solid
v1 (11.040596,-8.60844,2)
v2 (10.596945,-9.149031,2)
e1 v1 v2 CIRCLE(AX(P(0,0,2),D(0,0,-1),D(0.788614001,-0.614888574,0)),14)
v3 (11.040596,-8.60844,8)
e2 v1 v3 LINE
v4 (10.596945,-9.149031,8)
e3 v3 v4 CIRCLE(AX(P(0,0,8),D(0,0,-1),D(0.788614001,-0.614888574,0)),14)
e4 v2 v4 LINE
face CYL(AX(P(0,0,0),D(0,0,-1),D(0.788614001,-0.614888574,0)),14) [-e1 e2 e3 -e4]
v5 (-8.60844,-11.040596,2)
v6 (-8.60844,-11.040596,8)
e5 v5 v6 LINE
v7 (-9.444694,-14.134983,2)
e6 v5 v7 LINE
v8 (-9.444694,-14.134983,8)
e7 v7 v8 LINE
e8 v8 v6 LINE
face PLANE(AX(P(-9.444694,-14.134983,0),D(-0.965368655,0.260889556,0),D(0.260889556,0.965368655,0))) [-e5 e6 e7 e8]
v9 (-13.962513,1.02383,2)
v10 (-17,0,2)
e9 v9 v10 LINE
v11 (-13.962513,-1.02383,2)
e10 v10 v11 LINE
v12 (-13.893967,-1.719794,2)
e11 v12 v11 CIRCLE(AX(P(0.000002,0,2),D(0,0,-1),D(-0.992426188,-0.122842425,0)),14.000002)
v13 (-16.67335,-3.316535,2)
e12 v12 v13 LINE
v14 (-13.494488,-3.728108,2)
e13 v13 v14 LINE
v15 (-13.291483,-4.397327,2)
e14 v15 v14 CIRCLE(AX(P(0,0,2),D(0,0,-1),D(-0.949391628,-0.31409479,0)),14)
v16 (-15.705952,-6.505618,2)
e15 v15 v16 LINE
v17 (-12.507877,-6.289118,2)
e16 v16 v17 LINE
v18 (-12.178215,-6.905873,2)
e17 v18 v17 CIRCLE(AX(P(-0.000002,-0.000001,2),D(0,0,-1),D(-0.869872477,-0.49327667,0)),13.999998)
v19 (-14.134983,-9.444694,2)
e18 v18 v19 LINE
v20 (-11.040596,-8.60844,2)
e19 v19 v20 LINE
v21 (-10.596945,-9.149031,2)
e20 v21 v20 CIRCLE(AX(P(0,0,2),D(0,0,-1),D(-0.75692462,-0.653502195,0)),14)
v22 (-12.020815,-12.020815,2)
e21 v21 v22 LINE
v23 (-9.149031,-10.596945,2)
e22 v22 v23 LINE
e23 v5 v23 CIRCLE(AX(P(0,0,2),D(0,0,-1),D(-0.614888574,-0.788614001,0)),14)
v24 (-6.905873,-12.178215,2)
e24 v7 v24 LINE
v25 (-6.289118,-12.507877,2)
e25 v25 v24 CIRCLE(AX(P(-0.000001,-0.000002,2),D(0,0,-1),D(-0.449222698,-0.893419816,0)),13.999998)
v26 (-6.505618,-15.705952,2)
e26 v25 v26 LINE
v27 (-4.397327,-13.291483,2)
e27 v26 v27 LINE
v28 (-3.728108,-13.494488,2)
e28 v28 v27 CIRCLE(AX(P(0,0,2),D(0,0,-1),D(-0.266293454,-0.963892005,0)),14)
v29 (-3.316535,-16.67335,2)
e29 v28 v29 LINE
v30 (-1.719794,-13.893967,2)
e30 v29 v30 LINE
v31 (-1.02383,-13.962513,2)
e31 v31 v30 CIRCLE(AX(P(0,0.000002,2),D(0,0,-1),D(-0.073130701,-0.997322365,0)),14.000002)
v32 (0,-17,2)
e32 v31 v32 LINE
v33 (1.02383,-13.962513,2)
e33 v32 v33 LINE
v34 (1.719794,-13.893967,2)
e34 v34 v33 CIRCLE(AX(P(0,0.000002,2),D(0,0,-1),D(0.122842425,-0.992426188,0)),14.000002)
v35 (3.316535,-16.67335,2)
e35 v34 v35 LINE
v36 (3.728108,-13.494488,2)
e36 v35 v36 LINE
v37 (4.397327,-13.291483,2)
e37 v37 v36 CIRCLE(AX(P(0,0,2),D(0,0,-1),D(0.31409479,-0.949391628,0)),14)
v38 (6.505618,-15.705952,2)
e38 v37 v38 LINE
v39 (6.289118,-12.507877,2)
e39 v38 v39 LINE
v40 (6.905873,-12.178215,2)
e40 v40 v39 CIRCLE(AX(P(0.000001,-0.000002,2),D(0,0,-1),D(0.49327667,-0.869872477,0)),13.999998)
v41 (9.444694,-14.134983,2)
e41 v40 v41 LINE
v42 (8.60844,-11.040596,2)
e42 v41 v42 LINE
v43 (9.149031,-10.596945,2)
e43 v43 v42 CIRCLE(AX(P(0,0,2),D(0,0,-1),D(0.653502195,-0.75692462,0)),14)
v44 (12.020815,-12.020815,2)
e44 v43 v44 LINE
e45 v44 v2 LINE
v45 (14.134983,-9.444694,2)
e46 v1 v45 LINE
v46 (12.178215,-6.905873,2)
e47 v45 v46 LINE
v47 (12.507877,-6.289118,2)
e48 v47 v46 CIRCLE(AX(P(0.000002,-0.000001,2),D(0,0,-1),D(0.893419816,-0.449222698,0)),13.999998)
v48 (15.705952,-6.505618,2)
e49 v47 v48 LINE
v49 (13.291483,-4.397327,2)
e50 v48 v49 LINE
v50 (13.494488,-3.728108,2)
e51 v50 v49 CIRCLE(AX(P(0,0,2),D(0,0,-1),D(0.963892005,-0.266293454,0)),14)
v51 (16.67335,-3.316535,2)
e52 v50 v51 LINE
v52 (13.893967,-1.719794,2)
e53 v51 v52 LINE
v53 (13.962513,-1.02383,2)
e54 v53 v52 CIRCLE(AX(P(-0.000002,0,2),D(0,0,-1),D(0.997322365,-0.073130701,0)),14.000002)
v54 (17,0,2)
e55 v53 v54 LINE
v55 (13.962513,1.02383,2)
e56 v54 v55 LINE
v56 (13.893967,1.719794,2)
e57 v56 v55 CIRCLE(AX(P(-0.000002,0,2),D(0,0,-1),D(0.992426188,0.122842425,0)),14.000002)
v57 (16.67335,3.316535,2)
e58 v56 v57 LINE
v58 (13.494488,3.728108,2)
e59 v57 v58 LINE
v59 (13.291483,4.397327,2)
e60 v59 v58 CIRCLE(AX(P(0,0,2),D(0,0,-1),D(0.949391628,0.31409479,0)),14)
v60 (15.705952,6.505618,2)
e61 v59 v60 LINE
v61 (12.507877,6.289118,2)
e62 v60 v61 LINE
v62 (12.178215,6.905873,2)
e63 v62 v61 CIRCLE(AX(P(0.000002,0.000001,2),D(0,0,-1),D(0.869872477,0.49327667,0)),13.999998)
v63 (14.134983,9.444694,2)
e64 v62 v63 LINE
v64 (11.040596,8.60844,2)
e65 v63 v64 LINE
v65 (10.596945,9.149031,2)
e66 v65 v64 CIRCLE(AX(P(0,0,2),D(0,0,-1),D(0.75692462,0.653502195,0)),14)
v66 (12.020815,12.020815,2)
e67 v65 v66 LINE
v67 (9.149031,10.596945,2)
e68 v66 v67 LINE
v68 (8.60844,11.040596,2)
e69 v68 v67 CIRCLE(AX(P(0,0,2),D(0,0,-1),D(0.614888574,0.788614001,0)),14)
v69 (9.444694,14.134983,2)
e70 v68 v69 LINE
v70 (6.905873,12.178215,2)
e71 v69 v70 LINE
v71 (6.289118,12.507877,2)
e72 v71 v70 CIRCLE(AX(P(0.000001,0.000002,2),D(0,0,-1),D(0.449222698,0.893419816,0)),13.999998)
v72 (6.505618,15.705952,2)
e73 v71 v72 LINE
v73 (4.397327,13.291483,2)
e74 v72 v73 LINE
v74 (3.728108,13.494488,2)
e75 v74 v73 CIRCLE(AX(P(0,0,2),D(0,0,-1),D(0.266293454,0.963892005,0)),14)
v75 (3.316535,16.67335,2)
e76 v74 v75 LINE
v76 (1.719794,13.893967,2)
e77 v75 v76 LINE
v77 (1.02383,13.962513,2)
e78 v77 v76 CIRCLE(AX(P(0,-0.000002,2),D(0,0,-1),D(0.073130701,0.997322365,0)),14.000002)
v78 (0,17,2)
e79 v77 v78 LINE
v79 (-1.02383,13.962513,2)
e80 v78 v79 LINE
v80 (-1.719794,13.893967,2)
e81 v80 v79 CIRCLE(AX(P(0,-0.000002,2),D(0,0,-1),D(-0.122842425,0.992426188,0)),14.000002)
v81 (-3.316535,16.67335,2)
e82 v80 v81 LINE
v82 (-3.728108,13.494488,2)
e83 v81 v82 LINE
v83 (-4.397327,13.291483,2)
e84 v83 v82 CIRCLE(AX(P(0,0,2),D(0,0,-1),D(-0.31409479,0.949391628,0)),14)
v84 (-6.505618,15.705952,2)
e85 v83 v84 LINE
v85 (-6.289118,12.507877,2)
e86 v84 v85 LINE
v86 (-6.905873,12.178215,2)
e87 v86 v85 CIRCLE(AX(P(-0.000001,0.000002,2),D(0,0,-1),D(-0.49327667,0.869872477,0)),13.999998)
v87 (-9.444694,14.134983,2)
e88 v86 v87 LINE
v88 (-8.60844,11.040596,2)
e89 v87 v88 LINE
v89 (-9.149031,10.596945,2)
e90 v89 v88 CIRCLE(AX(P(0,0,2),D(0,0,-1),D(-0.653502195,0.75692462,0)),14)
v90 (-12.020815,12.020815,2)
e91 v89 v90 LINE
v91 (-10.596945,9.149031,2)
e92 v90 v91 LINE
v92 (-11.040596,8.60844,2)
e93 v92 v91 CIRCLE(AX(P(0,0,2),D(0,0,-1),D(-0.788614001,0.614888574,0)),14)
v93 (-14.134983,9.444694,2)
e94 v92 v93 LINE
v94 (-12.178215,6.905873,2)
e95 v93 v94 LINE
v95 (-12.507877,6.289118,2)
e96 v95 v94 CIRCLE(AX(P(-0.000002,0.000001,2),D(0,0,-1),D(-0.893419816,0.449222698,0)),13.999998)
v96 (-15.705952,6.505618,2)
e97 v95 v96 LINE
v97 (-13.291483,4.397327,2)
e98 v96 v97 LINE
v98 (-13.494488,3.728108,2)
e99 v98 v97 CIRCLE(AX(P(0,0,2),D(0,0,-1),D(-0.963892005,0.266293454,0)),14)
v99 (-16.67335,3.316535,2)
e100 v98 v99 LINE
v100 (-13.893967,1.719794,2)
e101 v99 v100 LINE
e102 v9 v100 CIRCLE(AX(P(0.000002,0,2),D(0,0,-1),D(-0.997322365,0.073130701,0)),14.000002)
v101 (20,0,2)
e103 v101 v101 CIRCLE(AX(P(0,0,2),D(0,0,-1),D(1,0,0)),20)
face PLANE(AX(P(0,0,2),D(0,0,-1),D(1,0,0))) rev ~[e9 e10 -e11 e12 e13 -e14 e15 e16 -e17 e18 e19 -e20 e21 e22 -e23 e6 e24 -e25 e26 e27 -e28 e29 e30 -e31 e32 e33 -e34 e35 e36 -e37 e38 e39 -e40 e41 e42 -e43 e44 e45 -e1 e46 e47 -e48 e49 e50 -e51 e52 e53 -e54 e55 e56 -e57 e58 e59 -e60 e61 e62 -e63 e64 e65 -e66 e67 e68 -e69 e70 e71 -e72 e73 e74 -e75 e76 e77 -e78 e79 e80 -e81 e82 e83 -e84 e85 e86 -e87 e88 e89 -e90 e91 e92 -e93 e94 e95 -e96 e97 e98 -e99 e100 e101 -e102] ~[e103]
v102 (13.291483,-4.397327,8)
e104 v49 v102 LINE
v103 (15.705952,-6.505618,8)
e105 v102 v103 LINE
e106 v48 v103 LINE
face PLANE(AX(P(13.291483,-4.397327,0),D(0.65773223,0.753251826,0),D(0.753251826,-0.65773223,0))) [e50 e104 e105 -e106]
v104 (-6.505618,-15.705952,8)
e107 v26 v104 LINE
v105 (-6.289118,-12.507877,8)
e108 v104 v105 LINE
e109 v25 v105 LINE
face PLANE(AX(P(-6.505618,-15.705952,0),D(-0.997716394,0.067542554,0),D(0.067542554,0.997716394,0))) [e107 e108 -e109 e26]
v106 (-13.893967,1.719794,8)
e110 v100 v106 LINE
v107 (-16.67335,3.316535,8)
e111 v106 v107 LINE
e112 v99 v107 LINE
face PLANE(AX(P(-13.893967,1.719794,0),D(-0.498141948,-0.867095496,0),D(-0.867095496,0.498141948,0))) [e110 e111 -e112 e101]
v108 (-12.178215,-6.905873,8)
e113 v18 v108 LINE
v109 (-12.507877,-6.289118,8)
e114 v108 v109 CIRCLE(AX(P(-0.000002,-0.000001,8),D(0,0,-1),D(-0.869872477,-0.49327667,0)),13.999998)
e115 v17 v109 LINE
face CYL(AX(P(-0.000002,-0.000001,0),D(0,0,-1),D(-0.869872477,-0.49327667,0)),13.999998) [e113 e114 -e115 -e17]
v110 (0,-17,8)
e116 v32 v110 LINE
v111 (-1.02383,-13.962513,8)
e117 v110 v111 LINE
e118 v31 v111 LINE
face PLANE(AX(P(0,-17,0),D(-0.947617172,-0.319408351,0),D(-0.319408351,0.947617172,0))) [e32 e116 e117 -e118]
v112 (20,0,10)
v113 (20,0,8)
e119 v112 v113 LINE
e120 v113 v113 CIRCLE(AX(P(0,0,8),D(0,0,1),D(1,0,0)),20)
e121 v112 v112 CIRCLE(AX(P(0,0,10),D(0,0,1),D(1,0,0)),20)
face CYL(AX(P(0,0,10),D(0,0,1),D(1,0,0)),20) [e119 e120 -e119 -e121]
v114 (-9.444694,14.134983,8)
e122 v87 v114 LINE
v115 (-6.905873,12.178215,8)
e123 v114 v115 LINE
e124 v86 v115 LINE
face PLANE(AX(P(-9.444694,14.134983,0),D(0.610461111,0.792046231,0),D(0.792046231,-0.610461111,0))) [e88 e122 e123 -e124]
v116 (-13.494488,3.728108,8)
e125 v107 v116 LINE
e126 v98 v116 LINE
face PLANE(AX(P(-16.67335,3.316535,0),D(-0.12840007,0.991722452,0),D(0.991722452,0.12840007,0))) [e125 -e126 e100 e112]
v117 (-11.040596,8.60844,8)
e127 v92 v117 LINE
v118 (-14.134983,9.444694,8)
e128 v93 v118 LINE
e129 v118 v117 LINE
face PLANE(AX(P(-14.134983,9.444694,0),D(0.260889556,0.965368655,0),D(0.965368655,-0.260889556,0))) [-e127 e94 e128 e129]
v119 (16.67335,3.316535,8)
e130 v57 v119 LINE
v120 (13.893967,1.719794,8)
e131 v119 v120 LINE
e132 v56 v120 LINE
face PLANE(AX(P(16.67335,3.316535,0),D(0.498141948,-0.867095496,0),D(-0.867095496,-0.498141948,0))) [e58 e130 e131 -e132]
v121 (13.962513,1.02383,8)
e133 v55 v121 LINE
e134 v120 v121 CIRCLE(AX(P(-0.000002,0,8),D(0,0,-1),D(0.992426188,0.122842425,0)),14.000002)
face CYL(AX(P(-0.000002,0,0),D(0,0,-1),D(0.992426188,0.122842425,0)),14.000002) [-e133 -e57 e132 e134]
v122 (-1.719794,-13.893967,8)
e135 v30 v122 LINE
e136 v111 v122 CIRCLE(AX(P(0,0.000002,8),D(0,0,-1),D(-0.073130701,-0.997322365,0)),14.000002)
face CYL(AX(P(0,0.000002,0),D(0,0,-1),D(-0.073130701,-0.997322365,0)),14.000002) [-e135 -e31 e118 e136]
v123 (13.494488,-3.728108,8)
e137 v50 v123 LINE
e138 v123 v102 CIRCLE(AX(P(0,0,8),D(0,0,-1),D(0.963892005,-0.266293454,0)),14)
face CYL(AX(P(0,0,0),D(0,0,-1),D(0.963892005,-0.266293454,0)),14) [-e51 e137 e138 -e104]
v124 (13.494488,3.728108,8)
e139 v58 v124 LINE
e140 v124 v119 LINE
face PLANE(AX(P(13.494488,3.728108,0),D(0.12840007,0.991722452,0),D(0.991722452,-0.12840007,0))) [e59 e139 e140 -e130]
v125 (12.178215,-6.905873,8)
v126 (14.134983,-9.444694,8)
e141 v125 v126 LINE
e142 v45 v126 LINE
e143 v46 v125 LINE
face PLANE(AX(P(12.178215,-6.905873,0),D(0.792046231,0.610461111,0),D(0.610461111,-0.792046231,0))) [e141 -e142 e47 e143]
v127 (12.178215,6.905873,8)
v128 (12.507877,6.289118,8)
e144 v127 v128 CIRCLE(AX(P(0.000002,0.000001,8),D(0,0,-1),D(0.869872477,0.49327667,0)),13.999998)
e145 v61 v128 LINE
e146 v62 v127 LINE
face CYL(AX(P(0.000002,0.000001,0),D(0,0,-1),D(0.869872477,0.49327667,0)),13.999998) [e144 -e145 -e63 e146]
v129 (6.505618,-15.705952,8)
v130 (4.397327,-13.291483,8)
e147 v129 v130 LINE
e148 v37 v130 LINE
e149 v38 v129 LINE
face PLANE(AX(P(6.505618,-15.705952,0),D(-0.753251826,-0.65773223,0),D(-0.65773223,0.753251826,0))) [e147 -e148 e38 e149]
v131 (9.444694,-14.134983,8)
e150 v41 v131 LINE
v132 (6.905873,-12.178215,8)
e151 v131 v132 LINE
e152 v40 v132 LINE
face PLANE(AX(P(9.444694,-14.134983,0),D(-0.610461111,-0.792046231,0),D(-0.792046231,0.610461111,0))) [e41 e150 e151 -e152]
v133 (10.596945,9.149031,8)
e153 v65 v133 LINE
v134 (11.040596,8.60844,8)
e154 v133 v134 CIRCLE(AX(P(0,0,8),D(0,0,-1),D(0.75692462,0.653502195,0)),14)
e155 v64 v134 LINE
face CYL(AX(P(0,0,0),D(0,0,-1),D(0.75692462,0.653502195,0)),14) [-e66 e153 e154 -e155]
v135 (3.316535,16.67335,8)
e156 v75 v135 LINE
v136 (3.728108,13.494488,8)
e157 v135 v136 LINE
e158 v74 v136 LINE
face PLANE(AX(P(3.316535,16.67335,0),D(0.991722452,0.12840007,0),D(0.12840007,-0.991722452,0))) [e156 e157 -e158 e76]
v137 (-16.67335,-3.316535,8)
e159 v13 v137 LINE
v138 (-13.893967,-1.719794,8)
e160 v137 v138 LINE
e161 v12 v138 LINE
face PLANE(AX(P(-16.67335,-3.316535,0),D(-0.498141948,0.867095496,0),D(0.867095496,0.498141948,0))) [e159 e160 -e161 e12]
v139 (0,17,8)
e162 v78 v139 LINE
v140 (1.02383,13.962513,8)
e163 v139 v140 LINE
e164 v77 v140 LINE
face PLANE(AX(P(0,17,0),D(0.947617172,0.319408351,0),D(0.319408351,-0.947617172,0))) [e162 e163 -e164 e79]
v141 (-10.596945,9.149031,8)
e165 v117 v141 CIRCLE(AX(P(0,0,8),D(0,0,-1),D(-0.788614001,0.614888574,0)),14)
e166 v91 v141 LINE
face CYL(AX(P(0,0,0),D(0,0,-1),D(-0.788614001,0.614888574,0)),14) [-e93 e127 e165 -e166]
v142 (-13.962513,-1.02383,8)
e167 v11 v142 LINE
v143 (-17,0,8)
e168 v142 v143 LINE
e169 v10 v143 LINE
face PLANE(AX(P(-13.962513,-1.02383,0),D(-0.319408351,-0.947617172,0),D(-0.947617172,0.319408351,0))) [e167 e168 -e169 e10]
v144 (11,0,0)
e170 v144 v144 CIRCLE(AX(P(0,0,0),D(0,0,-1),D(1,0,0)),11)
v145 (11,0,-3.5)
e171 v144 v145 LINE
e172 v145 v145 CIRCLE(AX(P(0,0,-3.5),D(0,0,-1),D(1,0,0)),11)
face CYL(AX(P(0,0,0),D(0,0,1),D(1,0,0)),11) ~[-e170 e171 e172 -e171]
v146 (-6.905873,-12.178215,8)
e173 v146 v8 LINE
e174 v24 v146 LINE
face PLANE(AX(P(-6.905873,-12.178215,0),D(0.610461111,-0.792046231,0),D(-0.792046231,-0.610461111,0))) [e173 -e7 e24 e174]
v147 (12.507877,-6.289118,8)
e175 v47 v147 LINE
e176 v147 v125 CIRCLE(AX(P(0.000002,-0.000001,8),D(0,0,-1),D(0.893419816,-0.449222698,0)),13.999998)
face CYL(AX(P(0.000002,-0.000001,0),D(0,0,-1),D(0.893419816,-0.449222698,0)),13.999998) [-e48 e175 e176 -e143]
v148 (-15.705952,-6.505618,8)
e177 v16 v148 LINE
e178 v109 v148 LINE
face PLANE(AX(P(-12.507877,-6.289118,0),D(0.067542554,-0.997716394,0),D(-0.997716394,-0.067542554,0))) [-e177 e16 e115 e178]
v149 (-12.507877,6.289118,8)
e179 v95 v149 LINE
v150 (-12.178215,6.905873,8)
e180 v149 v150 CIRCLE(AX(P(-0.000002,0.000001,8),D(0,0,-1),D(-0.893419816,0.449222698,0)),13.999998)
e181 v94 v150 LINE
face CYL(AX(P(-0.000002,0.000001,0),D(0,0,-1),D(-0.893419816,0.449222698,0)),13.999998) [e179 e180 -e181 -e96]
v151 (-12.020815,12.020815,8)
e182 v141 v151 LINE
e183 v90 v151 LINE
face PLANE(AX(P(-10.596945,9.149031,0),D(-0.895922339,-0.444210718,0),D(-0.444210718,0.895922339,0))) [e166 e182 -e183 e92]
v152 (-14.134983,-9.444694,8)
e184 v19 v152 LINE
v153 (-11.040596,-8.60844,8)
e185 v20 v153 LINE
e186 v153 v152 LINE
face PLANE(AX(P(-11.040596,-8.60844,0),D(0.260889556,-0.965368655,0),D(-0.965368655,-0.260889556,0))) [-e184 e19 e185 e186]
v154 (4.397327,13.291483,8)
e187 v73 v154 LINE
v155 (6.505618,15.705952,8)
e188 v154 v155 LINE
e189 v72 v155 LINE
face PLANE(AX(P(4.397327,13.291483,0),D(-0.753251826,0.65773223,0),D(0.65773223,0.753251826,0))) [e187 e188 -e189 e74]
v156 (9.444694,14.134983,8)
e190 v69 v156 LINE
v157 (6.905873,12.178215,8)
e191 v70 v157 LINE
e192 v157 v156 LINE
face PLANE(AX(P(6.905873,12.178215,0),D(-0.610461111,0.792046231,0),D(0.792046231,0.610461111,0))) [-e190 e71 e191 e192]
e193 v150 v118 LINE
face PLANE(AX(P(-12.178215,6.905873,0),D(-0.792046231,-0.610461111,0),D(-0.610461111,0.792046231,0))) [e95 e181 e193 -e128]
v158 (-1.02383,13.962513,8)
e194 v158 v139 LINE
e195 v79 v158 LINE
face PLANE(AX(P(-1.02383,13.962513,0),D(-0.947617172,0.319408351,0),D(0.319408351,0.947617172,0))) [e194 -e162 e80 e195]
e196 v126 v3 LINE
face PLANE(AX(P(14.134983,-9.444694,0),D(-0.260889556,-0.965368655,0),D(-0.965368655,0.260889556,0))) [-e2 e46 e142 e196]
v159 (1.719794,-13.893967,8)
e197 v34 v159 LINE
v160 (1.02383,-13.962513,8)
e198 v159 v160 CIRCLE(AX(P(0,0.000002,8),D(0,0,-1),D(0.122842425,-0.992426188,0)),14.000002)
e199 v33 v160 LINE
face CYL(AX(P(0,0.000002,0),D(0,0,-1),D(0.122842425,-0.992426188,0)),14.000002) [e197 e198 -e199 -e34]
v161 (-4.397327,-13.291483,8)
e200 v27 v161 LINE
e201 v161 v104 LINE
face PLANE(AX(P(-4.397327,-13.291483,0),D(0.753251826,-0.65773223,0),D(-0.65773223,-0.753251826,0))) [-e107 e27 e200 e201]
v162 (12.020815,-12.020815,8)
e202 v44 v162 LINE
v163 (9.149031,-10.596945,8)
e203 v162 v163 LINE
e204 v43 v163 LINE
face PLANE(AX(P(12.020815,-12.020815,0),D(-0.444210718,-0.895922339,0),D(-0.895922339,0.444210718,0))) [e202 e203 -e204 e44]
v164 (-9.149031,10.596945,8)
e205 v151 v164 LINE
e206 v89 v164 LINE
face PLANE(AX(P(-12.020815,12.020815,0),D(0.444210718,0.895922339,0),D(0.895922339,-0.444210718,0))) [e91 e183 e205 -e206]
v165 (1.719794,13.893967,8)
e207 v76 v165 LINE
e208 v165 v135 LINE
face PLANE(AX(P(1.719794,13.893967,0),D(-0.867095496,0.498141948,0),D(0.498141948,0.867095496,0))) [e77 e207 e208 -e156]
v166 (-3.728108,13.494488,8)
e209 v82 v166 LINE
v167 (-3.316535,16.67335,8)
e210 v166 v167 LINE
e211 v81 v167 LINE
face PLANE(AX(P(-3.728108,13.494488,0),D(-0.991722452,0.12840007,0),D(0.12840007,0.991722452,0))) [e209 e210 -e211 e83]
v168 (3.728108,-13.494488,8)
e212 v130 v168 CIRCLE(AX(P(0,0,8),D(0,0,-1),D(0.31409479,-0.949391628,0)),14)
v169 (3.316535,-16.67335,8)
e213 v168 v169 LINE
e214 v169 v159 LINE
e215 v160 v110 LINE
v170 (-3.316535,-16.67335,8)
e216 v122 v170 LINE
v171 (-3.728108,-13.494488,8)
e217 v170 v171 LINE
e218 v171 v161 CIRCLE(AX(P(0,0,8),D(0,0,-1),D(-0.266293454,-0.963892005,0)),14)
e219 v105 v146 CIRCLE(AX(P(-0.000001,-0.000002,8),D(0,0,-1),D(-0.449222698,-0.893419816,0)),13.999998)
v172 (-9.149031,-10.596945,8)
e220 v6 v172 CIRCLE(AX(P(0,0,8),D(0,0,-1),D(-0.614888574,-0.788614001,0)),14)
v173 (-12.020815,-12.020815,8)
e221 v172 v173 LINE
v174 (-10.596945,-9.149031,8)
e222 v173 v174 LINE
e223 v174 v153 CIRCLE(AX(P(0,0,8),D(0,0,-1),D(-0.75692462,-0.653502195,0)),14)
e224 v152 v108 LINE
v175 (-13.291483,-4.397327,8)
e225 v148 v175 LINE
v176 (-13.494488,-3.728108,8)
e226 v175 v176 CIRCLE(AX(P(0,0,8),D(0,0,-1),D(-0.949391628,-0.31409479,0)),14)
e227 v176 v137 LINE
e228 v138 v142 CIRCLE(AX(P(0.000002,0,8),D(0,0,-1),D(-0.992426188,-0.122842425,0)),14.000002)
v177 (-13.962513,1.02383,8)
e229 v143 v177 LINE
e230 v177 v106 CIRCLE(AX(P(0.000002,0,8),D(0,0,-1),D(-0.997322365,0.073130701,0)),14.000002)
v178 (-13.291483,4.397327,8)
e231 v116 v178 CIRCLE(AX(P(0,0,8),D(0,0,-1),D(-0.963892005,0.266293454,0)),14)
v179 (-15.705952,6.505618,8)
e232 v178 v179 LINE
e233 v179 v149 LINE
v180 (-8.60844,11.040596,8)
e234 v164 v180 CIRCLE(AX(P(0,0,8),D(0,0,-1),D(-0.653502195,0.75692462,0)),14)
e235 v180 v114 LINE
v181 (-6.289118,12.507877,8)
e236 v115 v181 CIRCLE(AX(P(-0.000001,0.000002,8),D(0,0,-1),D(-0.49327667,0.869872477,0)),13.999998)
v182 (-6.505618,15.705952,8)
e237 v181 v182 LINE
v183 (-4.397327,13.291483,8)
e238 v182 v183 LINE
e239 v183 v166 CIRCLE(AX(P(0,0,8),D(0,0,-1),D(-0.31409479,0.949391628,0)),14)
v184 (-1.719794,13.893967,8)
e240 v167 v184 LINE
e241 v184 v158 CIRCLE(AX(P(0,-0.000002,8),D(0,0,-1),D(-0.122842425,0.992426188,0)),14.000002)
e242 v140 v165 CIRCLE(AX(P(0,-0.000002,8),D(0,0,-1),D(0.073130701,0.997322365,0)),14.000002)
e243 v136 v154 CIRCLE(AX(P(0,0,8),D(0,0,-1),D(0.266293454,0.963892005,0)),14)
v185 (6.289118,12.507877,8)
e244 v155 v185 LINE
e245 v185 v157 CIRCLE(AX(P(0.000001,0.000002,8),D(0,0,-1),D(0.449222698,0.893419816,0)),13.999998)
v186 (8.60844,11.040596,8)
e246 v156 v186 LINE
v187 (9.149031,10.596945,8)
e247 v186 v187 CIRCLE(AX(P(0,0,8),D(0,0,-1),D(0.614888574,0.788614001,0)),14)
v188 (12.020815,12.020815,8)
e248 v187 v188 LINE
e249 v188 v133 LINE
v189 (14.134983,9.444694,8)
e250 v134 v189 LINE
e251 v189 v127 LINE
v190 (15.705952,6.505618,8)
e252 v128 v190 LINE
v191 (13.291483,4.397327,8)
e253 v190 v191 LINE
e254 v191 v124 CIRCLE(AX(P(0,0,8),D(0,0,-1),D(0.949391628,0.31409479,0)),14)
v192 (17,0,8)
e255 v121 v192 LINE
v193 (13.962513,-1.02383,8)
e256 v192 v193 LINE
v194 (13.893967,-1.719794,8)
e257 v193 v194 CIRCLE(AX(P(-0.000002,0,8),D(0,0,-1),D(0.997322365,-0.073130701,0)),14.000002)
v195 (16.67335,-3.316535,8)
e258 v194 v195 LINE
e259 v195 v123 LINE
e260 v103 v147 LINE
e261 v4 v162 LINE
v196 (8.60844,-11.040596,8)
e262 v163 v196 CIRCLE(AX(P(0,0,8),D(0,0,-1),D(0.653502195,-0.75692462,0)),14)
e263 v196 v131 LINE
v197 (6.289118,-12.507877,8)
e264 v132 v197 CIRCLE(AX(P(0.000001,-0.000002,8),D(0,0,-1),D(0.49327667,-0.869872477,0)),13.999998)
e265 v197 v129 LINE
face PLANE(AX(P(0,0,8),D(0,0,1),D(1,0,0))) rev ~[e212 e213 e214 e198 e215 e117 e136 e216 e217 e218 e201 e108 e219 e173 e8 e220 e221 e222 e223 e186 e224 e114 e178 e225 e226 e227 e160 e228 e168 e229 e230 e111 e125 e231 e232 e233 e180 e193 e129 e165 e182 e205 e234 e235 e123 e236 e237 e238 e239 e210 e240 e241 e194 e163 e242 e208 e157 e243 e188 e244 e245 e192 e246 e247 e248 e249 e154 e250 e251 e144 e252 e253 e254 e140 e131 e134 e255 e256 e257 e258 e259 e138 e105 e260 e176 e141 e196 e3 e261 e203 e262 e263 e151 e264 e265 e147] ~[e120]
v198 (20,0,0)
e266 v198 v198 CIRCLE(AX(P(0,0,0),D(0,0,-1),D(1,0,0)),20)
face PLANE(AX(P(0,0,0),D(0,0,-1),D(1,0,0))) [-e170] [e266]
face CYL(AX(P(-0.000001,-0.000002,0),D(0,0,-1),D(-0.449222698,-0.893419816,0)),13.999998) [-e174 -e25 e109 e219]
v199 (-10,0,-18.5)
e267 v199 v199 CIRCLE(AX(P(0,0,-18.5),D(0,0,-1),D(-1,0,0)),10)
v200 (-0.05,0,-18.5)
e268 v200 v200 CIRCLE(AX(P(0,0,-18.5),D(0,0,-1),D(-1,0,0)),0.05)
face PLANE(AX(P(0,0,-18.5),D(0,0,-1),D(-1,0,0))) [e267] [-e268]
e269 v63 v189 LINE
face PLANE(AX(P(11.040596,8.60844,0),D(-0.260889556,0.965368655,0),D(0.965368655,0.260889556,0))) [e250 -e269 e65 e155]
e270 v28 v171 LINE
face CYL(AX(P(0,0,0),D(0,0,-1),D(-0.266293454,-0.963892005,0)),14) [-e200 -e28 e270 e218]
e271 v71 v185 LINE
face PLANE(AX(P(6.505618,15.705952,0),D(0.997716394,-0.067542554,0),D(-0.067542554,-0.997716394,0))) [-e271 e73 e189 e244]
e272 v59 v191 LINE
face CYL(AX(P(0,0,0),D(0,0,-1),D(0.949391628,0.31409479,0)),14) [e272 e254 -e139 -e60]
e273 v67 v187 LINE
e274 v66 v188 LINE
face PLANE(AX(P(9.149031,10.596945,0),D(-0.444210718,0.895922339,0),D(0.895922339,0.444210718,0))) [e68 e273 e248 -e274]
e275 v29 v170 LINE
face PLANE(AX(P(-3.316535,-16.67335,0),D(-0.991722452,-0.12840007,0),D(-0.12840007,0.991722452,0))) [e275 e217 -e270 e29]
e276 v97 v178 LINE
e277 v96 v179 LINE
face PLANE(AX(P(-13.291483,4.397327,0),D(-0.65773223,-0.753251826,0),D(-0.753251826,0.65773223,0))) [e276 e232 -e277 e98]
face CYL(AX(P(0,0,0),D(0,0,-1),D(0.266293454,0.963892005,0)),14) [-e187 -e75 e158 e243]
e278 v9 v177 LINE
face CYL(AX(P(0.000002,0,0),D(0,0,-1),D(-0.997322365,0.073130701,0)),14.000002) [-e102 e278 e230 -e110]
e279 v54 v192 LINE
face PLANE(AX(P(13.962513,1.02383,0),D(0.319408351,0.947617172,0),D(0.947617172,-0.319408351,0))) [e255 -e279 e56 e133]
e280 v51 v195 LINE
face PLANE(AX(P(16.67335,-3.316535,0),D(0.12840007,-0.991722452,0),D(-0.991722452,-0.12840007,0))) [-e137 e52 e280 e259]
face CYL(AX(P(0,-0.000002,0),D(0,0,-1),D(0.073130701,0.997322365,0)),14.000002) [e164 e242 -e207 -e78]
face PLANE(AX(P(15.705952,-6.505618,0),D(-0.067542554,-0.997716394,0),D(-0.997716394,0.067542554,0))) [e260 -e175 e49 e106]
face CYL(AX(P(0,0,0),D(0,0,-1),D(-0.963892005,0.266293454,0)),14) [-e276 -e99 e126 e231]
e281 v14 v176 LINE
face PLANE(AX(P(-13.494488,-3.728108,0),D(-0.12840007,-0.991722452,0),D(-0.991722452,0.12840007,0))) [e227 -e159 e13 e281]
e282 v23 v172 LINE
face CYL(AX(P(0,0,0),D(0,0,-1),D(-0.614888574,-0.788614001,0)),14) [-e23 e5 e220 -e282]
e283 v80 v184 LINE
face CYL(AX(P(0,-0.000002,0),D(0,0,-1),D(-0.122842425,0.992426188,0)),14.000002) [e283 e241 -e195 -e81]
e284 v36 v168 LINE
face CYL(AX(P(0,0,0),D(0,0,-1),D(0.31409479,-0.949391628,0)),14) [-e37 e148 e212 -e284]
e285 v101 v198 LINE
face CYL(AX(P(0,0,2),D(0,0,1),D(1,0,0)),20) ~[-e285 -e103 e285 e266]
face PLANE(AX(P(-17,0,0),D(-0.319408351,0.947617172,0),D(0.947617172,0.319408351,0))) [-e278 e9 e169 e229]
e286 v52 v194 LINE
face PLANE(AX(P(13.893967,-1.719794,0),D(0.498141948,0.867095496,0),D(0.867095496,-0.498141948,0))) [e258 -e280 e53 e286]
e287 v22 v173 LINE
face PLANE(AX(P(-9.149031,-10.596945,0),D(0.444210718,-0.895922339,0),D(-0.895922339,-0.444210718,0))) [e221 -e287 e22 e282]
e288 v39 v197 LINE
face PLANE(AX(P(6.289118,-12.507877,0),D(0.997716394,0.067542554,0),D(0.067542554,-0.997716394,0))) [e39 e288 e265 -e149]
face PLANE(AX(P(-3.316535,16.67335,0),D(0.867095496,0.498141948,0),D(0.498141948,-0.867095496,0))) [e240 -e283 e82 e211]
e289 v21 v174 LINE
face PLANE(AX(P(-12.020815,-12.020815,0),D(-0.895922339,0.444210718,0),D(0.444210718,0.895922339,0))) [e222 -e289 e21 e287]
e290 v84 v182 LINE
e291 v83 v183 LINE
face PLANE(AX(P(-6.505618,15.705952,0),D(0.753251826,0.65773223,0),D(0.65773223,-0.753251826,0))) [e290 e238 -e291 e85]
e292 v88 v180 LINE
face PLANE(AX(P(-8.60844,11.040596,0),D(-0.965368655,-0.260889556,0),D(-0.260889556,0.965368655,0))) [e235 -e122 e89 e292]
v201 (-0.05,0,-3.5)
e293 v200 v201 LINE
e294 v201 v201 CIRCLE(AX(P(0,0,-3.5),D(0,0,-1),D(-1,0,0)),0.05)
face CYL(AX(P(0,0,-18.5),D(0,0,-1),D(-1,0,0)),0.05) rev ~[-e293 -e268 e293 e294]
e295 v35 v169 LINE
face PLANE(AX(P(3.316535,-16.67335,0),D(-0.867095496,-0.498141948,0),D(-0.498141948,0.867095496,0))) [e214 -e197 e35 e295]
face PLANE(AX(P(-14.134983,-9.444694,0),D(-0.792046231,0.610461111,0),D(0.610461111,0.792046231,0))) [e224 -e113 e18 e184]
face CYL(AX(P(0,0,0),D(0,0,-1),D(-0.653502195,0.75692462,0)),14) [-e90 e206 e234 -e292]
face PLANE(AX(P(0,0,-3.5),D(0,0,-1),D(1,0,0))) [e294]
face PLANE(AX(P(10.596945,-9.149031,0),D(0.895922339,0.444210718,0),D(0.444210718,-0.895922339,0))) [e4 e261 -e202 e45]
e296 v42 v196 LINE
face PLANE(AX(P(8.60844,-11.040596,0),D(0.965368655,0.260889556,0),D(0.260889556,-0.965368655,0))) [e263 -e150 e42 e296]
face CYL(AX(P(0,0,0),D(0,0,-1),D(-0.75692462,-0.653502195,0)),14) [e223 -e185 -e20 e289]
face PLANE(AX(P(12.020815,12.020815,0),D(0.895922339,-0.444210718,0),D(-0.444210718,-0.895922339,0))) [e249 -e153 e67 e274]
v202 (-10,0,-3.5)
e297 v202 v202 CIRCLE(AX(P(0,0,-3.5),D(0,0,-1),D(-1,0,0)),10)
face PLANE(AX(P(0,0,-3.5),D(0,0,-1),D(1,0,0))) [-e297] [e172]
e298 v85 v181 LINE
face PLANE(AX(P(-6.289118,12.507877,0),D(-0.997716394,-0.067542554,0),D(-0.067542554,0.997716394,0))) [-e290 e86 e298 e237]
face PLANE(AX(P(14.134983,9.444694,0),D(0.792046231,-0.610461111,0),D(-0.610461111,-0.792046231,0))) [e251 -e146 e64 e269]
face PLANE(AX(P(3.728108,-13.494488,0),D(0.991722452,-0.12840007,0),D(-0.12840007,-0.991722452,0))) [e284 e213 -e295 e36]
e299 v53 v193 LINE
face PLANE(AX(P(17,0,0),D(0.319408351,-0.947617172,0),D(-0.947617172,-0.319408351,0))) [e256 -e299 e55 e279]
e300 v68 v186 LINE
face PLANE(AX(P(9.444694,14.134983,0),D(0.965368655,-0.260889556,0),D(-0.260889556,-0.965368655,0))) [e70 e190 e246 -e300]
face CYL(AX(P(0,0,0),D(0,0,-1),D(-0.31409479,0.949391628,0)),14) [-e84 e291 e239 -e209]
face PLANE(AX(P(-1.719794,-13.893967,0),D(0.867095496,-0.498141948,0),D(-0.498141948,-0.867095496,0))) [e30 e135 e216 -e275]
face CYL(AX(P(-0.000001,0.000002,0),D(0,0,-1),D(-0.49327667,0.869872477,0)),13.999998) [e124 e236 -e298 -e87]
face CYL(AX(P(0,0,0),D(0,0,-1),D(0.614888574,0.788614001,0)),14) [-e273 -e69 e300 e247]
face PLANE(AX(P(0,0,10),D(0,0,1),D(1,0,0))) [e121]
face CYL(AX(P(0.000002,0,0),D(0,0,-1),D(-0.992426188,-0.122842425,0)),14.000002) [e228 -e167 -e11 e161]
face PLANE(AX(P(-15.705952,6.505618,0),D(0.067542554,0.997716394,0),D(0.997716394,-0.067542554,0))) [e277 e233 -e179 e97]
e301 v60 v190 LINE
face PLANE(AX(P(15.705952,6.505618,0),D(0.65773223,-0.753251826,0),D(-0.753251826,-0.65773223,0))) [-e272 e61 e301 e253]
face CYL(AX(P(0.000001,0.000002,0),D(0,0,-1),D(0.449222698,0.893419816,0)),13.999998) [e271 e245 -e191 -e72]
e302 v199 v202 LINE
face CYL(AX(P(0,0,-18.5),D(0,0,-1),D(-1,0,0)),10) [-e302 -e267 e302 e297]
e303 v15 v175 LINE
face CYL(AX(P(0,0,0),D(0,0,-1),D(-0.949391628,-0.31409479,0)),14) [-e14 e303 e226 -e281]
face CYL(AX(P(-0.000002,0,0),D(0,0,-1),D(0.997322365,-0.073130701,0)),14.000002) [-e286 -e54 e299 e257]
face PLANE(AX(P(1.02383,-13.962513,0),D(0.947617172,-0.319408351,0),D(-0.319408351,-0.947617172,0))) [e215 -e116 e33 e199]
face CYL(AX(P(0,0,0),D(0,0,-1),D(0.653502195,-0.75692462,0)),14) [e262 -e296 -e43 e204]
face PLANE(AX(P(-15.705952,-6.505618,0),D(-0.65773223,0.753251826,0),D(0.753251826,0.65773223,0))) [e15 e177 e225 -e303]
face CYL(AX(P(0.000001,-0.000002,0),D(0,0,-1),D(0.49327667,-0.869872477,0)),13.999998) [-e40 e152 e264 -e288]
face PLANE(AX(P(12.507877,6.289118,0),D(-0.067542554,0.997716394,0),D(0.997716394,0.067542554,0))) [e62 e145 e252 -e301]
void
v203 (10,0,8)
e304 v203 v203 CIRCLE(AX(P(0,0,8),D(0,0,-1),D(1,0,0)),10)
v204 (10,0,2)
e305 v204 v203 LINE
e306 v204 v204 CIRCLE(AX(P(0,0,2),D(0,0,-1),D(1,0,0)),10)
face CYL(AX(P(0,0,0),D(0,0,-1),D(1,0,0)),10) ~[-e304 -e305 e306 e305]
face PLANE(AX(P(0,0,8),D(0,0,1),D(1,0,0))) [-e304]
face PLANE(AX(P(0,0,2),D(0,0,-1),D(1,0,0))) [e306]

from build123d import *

# Parameters (mm, degrees)
SKETCH1_R           = 10
BOSS_EXTRUDE1_DEPTH = 10
SKETCH2_R           = 20
BOSS_EXTRUDE2_DEPTH = 2
BOSS_EXTRUDE3_START = -2
SKETCH3_R           = 20
BOSS_EXTRUDE3_DEPTH = 2
BOSS_EXTRUDE4_START = 18.5
SKETCH4_R           = 10
SKETCH4_R_2         = 0.05
BOSS_EXTRUDE4_DEPTH = 18.5
SKETCH5_R           = 11
BOSS_EXTRUDE5_DEPTH = 3.5


with BuildPart() as part:
    # Sketch1 → Boss-Extrude1 (new body)
    with BuildSketch(Plane.XY):
        with BuildLine():
            Line((0, 17), (1.023829773, 13.962513119))
            ThreePointArc((1.023829773, 13.962513119), (1.372239965, 13.932586173), (1.719794009, 13.893966625))
            Line((1.719794009, 13.893966625), (3.316535474, 16.673349767))
            Line((3.316535474, 16.673349767), (3.728108352, 13.494488064))
            ThreePointArc((3.728108352, 13.494488064), (4.063985482, 13.3971647), (4.397327072, 13.291482785))
            Line((4.397327072, 13.291482785), (6.50561835, 15.705952053))
            Line((6.50561835, 15.705952053), (6.289117817, 12.507877401))
            ThreePointArc((6.289117817, 12.507877401), (6.599554316, 12.346897701), (6.905873322, 12.178214715))
            Line((6.905873322, 12.178214715), (9.444693961, 14.134983409))
            Line((9.444693961, 14.134983409), (8.608440012, 11.040596024))
            ThreePointArc((8.608440012, 11.040596024), (8.881505978, 10.822146347), (9.149030733, 10.596944684))
            Line((9.149030733, 10.596944684), (12.02081528, 12.02081528))
            Line((12.02081528, 12.02081528), (10.596944684, 9.149030733))
            ThreePointArc((10.596944684, 9.149030733), (10.822146347, 8.881505978), (11.040596024, 8.608440012))
            Line((11.040596024, 8.608440012), (14.134983409, 9.444693961))
            Line((14.134983409, 9.444693961), (12.178214715, 6.905873322))
            ThreePointArc((12.178214715, 6.905873322), (12.346897701, 6.599554316), (12.507877401, 6.289117817))
            Line((12.507877401, 6.289117817), (15.705952053, 6.50561835))
            Line((15.705952053, 6.50561835), (13.291482785, 4.397327072))
            ThreePointArc((13.291482785, 4.397327072), (13.3971647, 4.063985482), (13.494488064, 3.728108352))
            Line((13.494488064, 3.728108352), (16.673349767, 3.316535474))
            Line((16.673349767, 3.316535474), (13.893966625, 1.719794009))
            ThreePointArc((13.893966625, 1.719794009), (13.932586173, 1.372239965), (13.962513119, 1.023829773))
            Line((13.962513119, 1.023829773), (17, 0))
            Line((17, 0), (13.962513119, -1.023829773))
            ThreePointArc((13.962513119, -1.023829773), (13.932586173, -1.372239965), (13.893966625, -1.719794009))
            Line((13.893966625, -1.719794009), (16.673349767, -3.316535474))
            Line((16.673349767, -3.316535474), (13.494488064, -3.728108352))
            ThreePointArc((13.494488064, -3.728108352), (13.3971647, -4.063985482), (13.291482785, -4.397327072))
            Line((13.291482785, -4.397327072), (15.705952053, -6.50561835))
            Line((15.705952053, -6.50561835), (12.507877401, -6.289117817))
            ThreePointArc((12.507877401, -6.289117817), (12.346897701, -6.599554316), (12.178214715, -6.905873322))
            Line((12.178214715, -6.905873322), (14.134983409, -9.444693961))
            Line((14.134983409, -9.444693961), (11.040596024, -8.608440012))
            ThreePointArc((11.040596024, -8.608440012), (10.822146347, -8.881505978), (10.596944684, -9.149030733))
            Line((10.596944684, -9.149030733), (12.02081528, -12.02081528))
            Line((12.02081528, -12.02081528), (9.149030733, -10.596944684))
            ThreePointArc((9.149030733, -10.596944684), (8.881505978, -10.822146347), (8.608440012, -11.040596024))
            Line((8.608440012, -11.040596024), (9.444693961, -14.134983409))
            Line((9.444693961, -14.134983409), (6.905873322, -12.178214715))
            ThreePointArc((6.905873322, -12.178214715), (6.599554316, -12.346897701), (6.289117817, -12.507877401))
            Line((6.289117817, -12.507877401), (6.50561835, -15.705952053))
            Line((6.50561835, -15.705952053), (4.397327072, -13.291482785))
            ThreePointArc((4.397327072, -13.291482785), (4.063985482, -13.3971647), (3.728108352, -13.494488064))
            Line((3.728108352, -13.494488064), (3.316535474, -16.673349767))
            Line((3.316535474, -16.673349767), (1.719794009, -13.893966625))
            ThreePointArc((1.719794009, -13.893966625), (1.372239965, -13.932586173), (1.023829773, -13.962513119))
            Line((1.023829773, -13.962513119), (0, -17))
            Line((0, -17), (-1.023829773, -13.962513119))
            ThreePointArc((-1.023829773, -13.962513119), (-1.372239965, -13.932586173), (-1.719794009, -13.893966625))
            Line((-1.719794009, -13.893966625), (-3.316535474, -16.673349767))
            Line((-3.316535474, -16.673349767), (-3.728108352, -13.494488064))
            ThreePointArc((-3.728108352, -13.494488064), (-4.063985482, -13.3971647), (-4.397327072, -13.291482785))
            Line((-4.397327072, -13.291482785), (-6.50561835, -15.705952053))
            Line((-6.50561835, -15.705952053), (-6.289117817, -12.507877401))
            ThreePointArc((-6.289117817, -12.507877401), (-6.599554316, -12.346897701), (-6.905873322, -12.178214715))
            Line((-6.905873322, -12.178214715), (-9.444693961, -14.134983409))
            Line((-9.444693961, -14.134983409), (-8.608440012, -11.040596024))
            ThreePointArc((-8.608440012, -11.040596024), (-8.881505978, -10.822146347), (-9.149030733, -10.596944684))
            Line((-9.149030733, -10.596944684), (-12.02081528, -12.02081528))
            Line((-12.02081528, -12.02081528), (-10.596944684, -9.149030733))
            ThreePointArc((-10.596944684, -9.149030733), (-10.822146347, -8.881505978), (-11.040596024, -8.608440012))
            Line((-11.040596024, -8.608440012), (-14.134983409, -9.444693961))
            Line((-14.134983409, -9.444693961), (-12.178214715, -6.905873322))
            ThreePointArc((-12.178214715, -6.905873322), (-12.346897701, -6.599554316), (-12.507877401, -6.289117817))
            Line((-12.507877401, -6.289117817), (-15.705952053, -6.50561835))
            Line((-15.705952053, -6.50561835), (-13.291482785, -4.397327072))
            ThreePointArc((-13.291482785, -4.397327072), (-13.3971647, -4.063985482), (-13.494488064, -3.728108352))
            Line((-13.494488064, -3.728108352), (-16.673349767, -3.316535474))
            Line((-16.673349767, -3.316535474), (-13.893966625, -1.719794009))
            ThreePointArc((-13.893966625, -1.719794009), (-13.932586173, -1.372239965), (-13.962513119, -1.023829773))
            Line((-13.962513119, -1.023829773), (-17, 0))
            Line((-17, 0), (-13.962513119, 1.023829773))
            ThreePointArc((-13.962513119, 1.023829773), (-13.932586173, 1.372239965), (-13.893966625, 1.719794009))
            Line((-13.893966625, 1.719794009), (-16.673349767, 3.316535474))
            Line((-16.673349767, 3.316535474), (-13.494488064, 3.728108352))
            ThreePointArc((-13.494488064, 3.728108352), (-13.3971647, 4.063985482), (-13.291482785, 4.397327072))
            Line((-13.291482785, 4.397327072), (-15.705952053, 6.50561835))
            Line((-15.705952053, 6.50561835), (-12.507877401, 6.289117817))
            ThreePointArc((-12.507877401, 6.289117817), (-12.346897701, 6.599554316), (-12.178214715, 6.905873322))
            Line((-12.178214715, 6.905873322), (-14.134983409, 9.444693961))
            Line((-14.134983409, 9.444693961), (-11.040596024, 8.608440012))
            ThreePointArc((-11.040596024, 8.608440012), (-10.822146347, 8.881505978), (-10.596944684, 9.149030733))
            Line((-10.596944684, 9.149030733), (-12.02081528, 12.02081528))
            Line((-12.02081528, 12.02081528), (-9.149030733, 10.596944684))
            ThreePointArc((-9.149030733, 10.596944684), (-8.881505978, 10.822146347), (-8.608440012, 11.040596024))
            Line((-8.608440012, 11.040596024), (-9.444693961, 14.134983409))
            Line((-9.444693961, 14.134983409), (-6.905873322, 12.178214715))
            ThreePointArc((-6.905873322, 12.178214715), (-6.599554316, 12.346897701), (-6.289117817, 12.507877401))
            Line((-6.289117817, 12.507877401), (-6.50561835, 15.705952053))
            Line((-6.50561835, 15.705952053), (-4.397327072, 13.291482785))
            ThreePointArc((-4.397327072, 13.291482785), (-4.063985482, 13.3971647), (-3.728108352, 13.494488064))
            Line((-3.728108352, 13.494488064), (-3.316535474, 16.673349767))
            Line((-3.316535474, 16.673349767), (-1.719794009, 13.893966625))
            ThreePointArc((-1.719794009, 13.893966625), (-1.372239965, 13.932586173), (-1.023829773, 13.962513119))
            Line((-1.023829773, 13.962513119), (0, 17))
        make_face()
        Circle(SKETCH1_R, mode=Mode.SUBTRACT)
    extrude(amount=BOSS_EXTRUDE1_DEPTH)

    # Sketch2 → Boss-Extrude2 (add)
    with BuildSketch(Plane.XY.offset(10)):
        Circle(SKETCH2_R)
    extrude(amount=-BOSS_EXTRUDE2_DEPTH)

    # Sketch3 → Boss-Extrude3 (add)
    with BuildSketch(Plane(origin=(0, 0, 0), x_dir=(-1, 0, 0), z_dir=(0, 0, -1)).offset(BOSS_EXTRUDE3_START)):
        with Locations(Location((0, 0, 0), (0, 0, 180))):
            Circle(SKETCH3_R)
    extrude(amount=BOSS_EXTRUDE3_DEPTH)

    # Sketch4 → Boss-Extrude4 (add)
    with BuildSketch(Plane(origin=(0, 0, 0), x_dir=(-1, 0, 0), z_dir=(0, 0, -1)).offset(BOSS_EXTRUDE4_START)):
        Circle(SKETCH4_R)
        Circle(SKETCH4_R_2, mode=Mode.SUBTRACT)
    extrude(amount=-BOSS_EXTRUDE4_DEPTH)

    # Sketch5 → Boss-Extrude5 (add)
    with BuildSketch(Plane(origin=(0, 0, 0), x_dir=(-1, 0, 0), z_dir=(0, 0, -1))):
        with Locations(Location((0, 0, 0), (0, 0, 180))):
            Circle(SKETCH5_R)
    extrude(amount=BOSS_EXTRUDE5_DEPTH)


solid = part.part
